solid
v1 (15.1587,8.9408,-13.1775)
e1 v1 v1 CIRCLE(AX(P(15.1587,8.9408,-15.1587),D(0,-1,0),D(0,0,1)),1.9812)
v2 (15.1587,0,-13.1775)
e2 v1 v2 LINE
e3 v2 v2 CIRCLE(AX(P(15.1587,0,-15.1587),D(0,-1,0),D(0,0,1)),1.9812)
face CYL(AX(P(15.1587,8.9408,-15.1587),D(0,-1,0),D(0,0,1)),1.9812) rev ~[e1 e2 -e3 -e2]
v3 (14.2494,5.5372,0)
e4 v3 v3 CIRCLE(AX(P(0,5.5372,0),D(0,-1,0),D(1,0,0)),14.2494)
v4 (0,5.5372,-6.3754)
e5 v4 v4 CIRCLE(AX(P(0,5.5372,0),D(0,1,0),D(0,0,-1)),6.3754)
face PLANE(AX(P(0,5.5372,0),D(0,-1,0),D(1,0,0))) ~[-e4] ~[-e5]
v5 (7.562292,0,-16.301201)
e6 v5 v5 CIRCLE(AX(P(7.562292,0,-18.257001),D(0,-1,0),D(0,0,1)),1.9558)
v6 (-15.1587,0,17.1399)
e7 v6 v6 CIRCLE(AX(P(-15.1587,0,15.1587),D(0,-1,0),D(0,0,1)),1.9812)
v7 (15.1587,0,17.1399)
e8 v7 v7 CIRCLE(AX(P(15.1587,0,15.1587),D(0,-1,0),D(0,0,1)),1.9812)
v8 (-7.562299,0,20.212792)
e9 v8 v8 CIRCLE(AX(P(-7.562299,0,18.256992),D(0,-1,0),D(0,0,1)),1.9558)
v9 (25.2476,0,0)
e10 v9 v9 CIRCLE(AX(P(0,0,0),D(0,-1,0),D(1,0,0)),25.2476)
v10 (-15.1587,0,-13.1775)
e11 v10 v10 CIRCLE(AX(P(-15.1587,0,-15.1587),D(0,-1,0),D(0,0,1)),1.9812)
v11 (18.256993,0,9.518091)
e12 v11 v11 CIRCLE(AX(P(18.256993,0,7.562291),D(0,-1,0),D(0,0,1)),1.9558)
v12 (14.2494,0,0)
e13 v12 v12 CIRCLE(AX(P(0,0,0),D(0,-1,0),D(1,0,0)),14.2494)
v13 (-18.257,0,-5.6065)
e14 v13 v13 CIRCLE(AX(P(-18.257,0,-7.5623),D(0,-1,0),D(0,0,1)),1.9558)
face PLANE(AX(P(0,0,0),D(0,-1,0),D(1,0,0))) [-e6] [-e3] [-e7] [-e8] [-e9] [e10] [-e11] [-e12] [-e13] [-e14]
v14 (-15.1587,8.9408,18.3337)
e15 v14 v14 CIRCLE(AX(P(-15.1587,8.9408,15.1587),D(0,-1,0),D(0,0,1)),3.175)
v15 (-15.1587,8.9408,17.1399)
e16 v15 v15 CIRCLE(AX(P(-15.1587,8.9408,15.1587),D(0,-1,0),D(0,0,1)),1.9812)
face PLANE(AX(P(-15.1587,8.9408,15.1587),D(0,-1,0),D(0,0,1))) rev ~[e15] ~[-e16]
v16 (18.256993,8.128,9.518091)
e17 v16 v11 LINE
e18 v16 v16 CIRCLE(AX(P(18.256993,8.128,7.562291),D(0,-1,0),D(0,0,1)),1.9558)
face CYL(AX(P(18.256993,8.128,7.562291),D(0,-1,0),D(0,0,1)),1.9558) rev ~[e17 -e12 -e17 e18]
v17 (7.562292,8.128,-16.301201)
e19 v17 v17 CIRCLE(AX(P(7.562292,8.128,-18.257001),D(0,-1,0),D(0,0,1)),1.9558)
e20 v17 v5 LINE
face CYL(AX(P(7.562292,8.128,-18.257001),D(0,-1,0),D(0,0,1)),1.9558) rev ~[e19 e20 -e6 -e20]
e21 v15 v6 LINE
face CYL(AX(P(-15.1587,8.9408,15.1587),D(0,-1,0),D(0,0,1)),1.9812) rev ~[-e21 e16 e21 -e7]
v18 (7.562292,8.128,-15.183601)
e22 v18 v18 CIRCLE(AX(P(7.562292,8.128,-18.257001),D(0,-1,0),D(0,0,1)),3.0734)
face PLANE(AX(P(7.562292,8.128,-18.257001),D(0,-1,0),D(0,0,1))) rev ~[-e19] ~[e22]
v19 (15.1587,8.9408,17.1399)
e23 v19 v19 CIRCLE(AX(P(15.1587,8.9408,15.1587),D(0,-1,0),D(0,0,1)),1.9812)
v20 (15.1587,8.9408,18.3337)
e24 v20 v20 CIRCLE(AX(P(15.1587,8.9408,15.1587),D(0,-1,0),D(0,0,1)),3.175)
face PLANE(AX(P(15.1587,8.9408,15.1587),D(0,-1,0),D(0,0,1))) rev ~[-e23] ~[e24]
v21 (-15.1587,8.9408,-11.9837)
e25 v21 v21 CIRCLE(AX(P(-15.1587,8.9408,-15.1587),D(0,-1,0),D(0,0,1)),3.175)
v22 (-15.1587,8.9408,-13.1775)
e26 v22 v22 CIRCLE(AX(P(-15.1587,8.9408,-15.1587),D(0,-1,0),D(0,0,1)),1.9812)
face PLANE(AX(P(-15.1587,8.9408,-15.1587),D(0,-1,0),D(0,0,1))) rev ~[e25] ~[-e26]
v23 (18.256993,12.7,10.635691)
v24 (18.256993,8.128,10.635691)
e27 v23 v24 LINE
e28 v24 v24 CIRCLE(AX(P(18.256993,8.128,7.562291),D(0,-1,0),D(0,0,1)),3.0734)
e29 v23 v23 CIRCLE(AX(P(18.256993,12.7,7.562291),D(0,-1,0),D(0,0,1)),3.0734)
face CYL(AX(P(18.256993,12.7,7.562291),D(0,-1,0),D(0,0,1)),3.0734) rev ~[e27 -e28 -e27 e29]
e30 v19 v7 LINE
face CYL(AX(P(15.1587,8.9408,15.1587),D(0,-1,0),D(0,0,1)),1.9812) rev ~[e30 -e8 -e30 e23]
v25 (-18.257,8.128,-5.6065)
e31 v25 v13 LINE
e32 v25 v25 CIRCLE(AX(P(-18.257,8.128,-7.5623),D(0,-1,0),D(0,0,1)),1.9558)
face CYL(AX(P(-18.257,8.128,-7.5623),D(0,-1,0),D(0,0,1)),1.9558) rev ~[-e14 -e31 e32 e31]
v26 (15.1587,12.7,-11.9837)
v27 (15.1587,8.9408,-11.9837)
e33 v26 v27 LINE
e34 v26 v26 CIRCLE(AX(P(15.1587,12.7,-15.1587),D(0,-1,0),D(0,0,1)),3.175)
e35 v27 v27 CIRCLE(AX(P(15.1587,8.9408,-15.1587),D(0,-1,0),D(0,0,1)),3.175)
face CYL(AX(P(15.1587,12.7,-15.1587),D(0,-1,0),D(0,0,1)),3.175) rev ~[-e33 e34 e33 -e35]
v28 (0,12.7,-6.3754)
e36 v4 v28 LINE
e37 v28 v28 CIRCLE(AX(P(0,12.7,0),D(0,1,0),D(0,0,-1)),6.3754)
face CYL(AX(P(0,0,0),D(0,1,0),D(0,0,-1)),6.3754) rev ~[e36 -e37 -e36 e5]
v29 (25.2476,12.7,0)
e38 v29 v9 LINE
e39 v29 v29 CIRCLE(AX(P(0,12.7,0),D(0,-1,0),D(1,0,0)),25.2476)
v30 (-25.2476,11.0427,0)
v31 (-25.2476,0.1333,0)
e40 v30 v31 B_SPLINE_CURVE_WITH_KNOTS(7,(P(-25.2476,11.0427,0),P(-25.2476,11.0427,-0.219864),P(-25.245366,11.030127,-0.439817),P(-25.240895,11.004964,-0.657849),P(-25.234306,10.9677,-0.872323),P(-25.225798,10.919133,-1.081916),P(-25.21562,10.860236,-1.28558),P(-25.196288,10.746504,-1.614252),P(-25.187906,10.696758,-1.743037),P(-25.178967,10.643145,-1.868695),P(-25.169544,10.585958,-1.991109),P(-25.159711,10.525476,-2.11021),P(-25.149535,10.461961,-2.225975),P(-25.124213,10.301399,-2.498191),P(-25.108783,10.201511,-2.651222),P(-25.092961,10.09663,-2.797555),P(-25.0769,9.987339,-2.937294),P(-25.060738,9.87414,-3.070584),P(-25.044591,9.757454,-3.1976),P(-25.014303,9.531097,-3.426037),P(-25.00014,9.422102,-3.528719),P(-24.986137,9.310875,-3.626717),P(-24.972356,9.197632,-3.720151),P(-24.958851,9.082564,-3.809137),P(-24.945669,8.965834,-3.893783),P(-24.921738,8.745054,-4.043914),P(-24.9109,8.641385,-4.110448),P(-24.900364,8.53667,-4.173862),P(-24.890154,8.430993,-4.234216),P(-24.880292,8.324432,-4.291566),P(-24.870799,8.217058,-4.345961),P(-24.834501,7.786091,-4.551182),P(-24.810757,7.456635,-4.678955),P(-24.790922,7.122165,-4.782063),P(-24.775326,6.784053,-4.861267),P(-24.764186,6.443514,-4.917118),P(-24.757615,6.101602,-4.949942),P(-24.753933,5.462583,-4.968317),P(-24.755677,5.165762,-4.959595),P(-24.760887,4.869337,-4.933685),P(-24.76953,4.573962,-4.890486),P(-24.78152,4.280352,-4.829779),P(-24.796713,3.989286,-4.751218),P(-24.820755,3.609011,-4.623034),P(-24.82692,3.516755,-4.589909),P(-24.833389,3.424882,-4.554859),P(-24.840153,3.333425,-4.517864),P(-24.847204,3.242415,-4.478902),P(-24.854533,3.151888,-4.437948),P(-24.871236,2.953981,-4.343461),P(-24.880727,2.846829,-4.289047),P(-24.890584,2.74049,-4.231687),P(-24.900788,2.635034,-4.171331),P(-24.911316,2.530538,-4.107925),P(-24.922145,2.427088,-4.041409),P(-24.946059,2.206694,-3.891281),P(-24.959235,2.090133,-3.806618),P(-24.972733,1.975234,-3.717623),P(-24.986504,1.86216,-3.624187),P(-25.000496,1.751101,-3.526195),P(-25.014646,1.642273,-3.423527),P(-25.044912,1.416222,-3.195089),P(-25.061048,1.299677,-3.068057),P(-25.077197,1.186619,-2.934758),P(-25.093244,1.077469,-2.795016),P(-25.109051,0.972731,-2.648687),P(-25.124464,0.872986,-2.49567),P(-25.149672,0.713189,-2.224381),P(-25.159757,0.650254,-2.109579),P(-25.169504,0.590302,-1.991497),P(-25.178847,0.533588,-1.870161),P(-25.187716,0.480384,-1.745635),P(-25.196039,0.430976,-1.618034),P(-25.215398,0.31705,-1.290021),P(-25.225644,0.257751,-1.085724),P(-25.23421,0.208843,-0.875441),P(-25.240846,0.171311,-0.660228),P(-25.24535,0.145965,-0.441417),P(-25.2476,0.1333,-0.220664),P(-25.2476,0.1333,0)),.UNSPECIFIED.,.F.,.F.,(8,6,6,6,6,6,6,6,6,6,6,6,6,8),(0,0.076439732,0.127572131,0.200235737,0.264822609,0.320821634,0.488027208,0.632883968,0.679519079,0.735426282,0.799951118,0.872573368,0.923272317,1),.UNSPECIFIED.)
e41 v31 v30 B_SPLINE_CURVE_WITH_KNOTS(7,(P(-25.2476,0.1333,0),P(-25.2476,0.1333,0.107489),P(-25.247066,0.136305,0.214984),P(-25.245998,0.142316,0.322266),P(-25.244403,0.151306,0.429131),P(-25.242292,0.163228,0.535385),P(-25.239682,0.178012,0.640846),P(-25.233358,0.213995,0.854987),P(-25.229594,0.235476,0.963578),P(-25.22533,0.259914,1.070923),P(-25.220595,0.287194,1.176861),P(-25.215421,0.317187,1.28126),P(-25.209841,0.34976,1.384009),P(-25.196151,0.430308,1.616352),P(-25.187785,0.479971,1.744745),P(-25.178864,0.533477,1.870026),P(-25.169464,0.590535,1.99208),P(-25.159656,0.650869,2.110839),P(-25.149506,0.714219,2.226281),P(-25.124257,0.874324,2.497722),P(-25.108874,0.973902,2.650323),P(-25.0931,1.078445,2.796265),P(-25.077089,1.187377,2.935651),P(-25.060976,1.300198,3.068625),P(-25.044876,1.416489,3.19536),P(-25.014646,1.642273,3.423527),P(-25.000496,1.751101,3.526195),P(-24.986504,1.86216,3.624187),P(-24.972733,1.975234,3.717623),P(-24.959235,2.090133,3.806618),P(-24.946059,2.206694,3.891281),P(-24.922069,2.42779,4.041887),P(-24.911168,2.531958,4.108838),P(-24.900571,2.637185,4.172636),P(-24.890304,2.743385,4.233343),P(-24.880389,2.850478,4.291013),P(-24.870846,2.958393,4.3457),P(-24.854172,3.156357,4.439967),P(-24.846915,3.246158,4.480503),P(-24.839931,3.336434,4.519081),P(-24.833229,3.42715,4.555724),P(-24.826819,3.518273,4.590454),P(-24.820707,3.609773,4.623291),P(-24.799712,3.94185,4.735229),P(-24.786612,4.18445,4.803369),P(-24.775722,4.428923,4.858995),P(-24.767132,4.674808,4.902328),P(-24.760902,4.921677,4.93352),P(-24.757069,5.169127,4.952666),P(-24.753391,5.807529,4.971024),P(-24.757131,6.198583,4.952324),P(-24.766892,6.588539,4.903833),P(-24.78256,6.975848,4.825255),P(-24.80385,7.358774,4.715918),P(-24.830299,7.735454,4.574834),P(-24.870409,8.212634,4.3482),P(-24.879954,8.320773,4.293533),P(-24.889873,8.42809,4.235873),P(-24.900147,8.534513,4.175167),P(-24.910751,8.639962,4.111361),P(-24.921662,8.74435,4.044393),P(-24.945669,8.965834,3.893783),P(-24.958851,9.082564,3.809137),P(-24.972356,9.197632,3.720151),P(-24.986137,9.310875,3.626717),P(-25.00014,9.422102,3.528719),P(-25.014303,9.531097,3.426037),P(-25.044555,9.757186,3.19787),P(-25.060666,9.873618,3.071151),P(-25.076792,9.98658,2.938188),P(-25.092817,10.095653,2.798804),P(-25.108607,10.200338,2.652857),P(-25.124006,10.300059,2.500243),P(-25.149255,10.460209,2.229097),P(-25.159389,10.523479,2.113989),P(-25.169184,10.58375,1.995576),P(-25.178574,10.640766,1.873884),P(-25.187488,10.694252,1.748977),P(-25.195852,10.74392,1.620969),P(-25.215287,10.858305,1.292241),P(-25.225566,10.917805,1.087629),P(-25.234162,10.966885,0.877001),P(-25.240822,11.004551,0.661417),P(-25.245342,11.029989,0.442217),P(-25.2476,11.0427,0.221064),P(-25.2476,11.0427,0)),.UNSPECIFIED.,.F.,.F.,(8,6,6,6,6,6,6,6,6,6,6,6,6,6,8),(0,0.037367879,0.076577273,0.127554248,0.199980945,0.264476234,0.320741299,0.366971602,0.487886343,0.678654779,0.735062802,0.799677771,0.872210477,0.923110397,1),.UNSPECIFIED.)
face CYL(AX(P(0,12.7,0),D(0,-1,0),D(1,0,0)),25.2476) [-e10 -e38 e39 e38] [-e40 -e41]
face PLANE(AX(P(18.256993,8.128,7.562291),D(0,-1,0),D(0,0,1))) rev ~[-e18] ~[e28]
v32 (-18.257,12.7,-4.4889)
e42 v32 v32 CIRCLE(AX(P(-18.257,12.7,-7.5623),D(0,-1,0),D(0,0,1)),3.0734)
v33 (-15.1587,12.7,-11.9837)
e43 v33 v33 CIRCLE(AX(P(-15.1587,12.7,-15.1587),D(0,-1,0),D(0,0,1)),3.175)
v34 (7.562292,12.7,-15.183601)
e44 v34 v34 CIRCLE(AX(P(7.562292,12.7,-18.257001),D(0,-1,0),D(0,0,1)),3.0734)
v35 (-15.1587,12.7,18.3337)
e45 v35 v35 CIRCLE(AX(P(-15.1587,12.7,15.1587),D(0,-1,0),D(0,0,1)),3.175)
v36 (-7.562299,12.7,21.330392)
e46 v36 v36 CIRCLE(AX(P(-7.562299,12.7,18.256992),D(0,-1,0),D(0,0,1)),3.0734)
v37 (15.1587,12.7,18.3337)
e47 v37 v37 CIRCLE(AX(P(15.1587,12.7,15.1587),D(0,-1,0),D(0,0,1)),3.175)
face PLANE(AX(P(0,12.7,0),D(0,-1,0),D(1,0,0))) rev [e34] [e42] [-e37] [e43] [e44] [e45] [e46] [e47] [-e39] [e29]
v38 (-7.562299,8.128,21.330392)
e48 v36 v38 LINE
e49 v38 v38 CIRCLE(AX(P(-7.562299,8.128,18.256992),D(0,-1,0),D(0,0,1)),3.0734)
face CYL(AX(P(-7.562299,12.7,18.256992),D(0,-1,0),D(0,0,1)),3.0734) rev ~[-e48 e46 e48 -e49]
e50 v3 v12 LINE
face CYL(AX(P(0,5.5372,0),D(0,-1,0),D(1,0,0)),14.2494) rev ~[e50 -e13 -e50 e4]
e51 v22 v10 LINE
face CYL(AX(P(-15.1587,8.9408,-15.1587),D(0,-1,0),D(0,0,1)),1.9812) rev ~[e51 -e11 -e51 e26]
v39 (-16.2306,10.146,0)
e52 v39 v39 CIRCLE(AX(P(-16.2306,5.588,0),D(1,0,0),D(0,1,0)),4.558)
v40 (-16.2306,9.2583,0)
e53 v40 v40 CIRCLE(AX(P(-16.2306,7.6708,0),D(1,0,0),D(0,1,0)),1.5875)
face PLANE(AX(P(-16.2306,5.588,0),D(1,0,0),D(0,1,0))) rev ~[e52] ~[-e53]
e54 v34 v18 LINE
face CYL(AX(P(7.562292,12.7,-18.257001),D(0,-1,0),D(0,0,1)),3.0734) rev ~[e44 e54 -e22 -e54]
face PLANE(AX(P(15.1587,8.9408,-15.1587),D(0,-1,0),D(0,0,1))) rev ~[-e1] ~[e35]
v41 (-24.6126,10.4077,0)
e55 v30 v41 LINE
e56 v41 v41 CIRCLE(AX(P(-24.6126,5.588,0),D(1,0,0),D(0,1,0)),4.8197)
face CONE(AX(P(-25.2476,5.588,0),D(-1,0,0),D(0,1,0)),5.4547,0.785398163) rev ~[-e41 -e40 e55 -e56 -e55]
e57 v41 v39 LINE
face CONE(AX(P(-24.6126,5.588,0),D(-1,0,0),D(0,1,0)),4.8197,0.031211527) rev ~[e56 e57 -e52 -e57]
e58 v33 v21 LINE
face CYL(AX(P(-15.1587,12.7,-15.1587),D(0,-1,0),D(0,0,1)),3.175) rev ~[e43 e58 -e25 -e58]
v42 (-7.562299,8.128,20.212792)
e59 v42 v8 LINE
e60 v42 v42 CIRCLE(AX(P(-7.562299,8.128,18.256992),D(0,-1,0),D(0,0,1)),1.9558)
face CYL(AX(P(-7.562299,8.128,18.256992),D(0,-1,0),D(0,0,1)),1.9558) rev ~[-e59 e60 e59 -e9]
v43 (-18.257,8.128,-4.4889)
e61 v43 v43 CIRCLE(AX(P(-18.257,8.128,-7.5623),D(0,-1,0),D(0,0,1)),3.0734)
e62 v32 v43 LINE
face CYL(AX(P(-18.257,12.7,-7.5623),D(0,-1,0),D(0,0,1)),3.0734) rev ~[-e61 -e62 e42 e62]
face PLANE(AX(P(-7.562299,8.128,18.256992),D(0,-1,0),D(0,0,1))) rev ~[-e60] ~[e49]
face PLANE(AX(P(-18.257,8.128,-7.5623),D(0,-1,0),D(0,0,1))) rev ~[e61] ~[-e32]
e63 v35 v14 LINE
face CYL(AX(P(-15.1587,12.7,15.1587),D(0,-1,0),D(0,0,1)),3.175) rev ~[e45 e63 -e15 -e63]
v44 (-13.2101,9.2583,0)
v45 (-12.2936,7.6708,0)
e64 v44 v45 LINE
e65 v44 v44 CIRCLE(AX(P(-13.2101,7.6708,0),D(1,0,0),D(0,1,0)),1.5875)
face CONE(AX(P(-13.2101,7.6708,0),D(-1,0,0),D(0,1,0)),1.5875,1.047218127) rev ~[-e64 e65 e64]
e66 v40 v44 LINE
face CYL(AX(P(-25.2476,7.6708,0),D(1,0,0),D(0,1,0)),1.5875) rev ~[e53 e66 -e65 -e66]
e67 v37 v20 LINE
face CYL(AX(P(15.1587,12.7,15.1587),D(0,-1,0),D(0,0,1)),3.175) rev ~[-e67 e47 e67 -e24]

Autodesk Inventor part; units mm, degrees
sketch "Sketch_1" plane through (0, 0, 0) normal (0, 0, 1) x (1, 0, 0)
  line L0 (0, 0) -> (0, 12.7)
  line L1 (0, 12.7) -> (25.2476, 12.7)
  line L2 (25.2476, 12.7) -> (25.2476, 0)
  line L3 (25.2476, 0) -> (0, 0)
  line L4 (0, 0) -> (0, 12.7)
revolve "Revolution1" add sketch "Sketch_1" angle 360 about axis through (0, 0, 0) along (0, -1, 0)
sketch "Sketch_84" plane through (0, 0, 0) normal (0, 0, 1) x (1, 0, 0)
  line L0 (-16.2306, 5.588) -> (-25.2476, 5.588)
  line L1 (-25.2476, 5.588) -> (-25.2476, 11.0427)
  line L2 (-25.2476, 11.0427) -> (-24.6126, 10.4077)
  line L3 (-24.6126, 10.4077) -> (-16.2306, 10.146)
  line L4 (-16.2306, 10.146) -> (-16.2306, 5.588)
  line L5 (-16.2306, 5.588) -> (-25.2476, 5.588)
revolve "Revolution2" cut sketch "Sketch_84" angle 360 about axis through (-16.2306, 5.588, 0) along (1, 0, 0)
thread "Thread1" size "1/8" designation "1/8 - 27 NPT" standard "NPT" full length
sketch "Sketch_85" plane through (0, 0, 0) normal (0, 0, 1) x (1, 0, 0)
  line L0 (-12.2936, 7.6708) -> (-25.2476, 7.6708)
  line L1 (-25.2476, 7.6708) -> (-25.2476, 9.2583)
  line L2 (-25.2476, 9.2583) -> (-13.2101, 9.2583)
  line L3 (-13.2101, 9.2583) -> (-12.2936, 7.6708)
  line L4 (-12.2936, 7.6708) -> (-25.2476, 7.6708)
revolve "Revolution3" cut sketch "Sketch_85" angle 360 about axis through (-12.2936, 7.6708, 0) along (1, 0, 0)
sketch "Sketch4" plane through (0, 12.7, 0) normal (0, 1, 0) x (1, 0, 0)
  point P0 (-15.1587, 15.1587)
hole "Hole1" at (-15.1587, 12.7, -15.1587) direction (0, -1, 0) diameter 3.9624 depth 12.7 counterbore diameter 6.35 counterbore depth 3.7592
sketch "Sketch5" plane through (0, 12.7, 0) normal (0, 1, 0) x (1, 0, 0)
  point P0 (-15.1587, -15.1587)
hole "Hole2" at (-15.1587, 12.7, 15.1587) direction (0, -1, 0) diameter 3.9624 depth 12.7 counterbore diameter 6.35 counterbore depth 3.7592
sketch "Sketch6" plane through (0, 12.7, 0) normal (0, 1, 0) x (1, 0, 0)
  point P0 (15.1587, -15.1587)
hole "Hole3" at (15.1587, 12.7, 15.1587) direction (0, -1, 0) diameter 3.9624 depth 12.7 counterbore diameter 6.35 counterbore depth 3.7592
sketch "Sketch7" plane through (0, 12.7, 0) normal (0, 1, 0) x (1, 0, 0)
  point P0 (15.1587, 15.1587)
hole "Hole4" at (15.1587, 12.7, -15.1587) direction (0, -1, 0) diameter 3.9624 depth 12.7 counterbore diameter 6.35 counterbore depth 3.7592
sketch "Sketch8" plane through (0, 0, 0) normal (0, -1, 0) x (1, 0, 0)
  point P0 (0, 0)
hole "Hole5" at (0, 0, 0) direction (0, 1, 0) diameter 12.7508 depth 12.7
sketch "Sketch_9" plane through (0, 0, 0) normal (0, 0, 1) x (1, 0, 0)
  line L0 (0, 0) -> (0, 5.5372)
  line L1 (0, 5.5372) -> (14.2494, 5.5372)
  line L2 (14.2494, 5.5372) -> (14.2494, 0)
  line L3 (14.2494, 0) -> (0, 0)
  line L4 (0, 0) -> (0, 5.5372)
revolve "Revolution4" cut sketch "Sketch_9" angle 360 about axis through (0, 0, 0) along (0, -1, 0)
sketch "Sketch10" plane through (0, 12.7, 0) normal (0, 1, 0) x (1, 0, 0)
  point P0 (-18.257, 7.5623)
hole "Hole6" at (-18.257, 12.7, -7.5623) direction (0, -1, 0) diameter 3.9116 depth 12.7 counterbore diameter 6.1468 counterbore depth 4.572
pattern_linear "Rectangular Pattern1" count 2 spacing 27.9466 along (0.9239, 0, -0.3827) count 2 spacing 27.9466 along (0.3827, 0, 0.9239) of "Hole6"
ref_plane "a1_XY" through (0, 12.7, -25.2476) normal (0, 1, 0) x (1, 0, 0)
ref_plane "a1_YZ" through (0, 12.7, -25.2476) normal (1, 0, 0) x (0, 0, -1)
ref_plane "a1_ZX" through (0, 12.7, -25.2476) normal (0, 0, -1) x (0, 1, 0)
ref_plane "a2_XY" through (0, 12.7, 25.2476) normal (0, 1, 0) x (1, 0, 0)
ref_plane "a2_YZ" through (0, 12.7, 25.2476) normal (1, 0, 0) x (0, 0, -1)
ref_plane "a2_ZX" through (0, 12.7, 25.2476) normal (0, 0, -1) x (0, 1, 0)
ref_plane "ab_tr1_XY" through (-12.9439, 0, -1.7041) normal (0, 1, 0) x (1, 0, 0)
ref_plane "ab_tr1_YZ" through (-12.9439, 0, -1.7041) normal (1, 0, 0) x (0, 0, -1)
ref_plane "ab_tr1_ZX" through (-12.9439, 0, -1.7041) normal (0, 0, -1) x (0, 1, 0)
ref_plane "ab_tr2_XY" through (12.9439, 0, 1.7041) normal (0, 1, 0) x (1, 0, 0)
ref_plane "ab_tr2_YZ" through (12.9439, 0, 1.7041) normal (1, 0, 0) x (0, 0, -1)
ref_plane "ab_tr2_ZX" through (12.9439, 0, 1.7041) normal (0, 0, -1) x (0, 1, 0)
ref_plane "ab_tr3_XY" through (-1.7041, 0, 12.9439) normal (0, 1, 0) x (1, 0, 0)
ref_plane "ab_tr3_YZ" through (-1.7041, 0, 12.9439) normal (1, 0, 0) x (0, 0, -1)
ref_plane "ab_tr3_ZX" through (-1.7041, 0, 12.9439) normal (0, 0, -1) x (0, 1, 0)
ref_plane "ab_tr4_XY" through (1.7041, 0, -12.9439) normal (0, 1, 0) x (1, 0, 0)
ref_plane "ab_tr4_YZ" through (1.7041, 0, -12.9439) normal (1, 0, 0) x (0, 0, -1)
ref_plane "ab_tr4_ZX" through (1.7041, 0, -12.9439) normal (0, 0, -1) x (0, 1, 0)
ref_plane "ar3_XY" through (-8.2135, 5.5372, 19.8292) normal (0, 1, 0) x (1, 0, 0)
ref_plane "ar3_YZ" through (-8.2135, 5.5372, 19.8292) normal (1, 0, 0) x (0, 0, -1)
ref_plane "ar3_ZX" through (-8.2135, 5.5372, 19.8292) normal (0, 0, -1) x (0, 1, 0)
ref_plane "ar4_XY" through (19.8292, 5.5372, 8.2135) normal (0, 1, 0) x (1, 0, 0)
ref_plane "ar4_YZ" through (19.8292, 5.5372, 8.2135) normal (1, 0, 0) x (0, 0, -1)
ref_plane "ar4_ZX" through (19.8292, 5.5372, 8.2135) normal (0, 0, -1) x (0, 1, 0)
ref_plane "ar5_XY" through (8.2135, 5.5372, -19.8292) normal (0, 1, 0) x (1, 0, 0)
ref_plane "ar5_YZ" through (8.2135, 5.5372, -19.8292) normal (1, 0, 0) x (0, 0, -1)
ref_plane "ar5_ZX" through (8.2135, 5.5372, -19.8292) normal (0, 0, -1) x (0, 1, 0)
ref_plane "ar6_XY" through (-19.8292, 5.5372, -8.2135) normal (0, 1, 0) x (1, 0, 0)
ref_plane "ar6_YZ" through (-19.8292, 5.5372, -8.2135) normal (1, 0, 0) x (0, 0, -1)
ref_plane "ar6_ZX" through (-19.8292, 5.5372, -8.2135) normal (0, 0, -1) x (0, 1, 0)
ref_plane "b1_XY" through (0, 12.7, 0) normal (0, 1, 0) x (1, 0, 0)
ref_plane "b1_YZ" through (0, 12.7, 0) normal (1, 0, 0) x (0, 0, -1)
ref_plane "b1_ZX" through (0, 12.7, 0) normal (0, 0, -1) x (0, 1, 0)
ref_plane "c11_XY" through (-15.1587, 12.7, -15.1587) normal (0, 1, 0) x (1, 0, 0)
ref_plane "c11_YZ" through (-15.1587, 12.7, -15.1587) normal (1, 0, 0) x (0, 0, -1)
ref_plane "c11_ZX" through (-15.1587, 12.7, -15.1587) normal (0, 0, -1) x (0, 1, 0)
ref_plane "c22_XY" through (15.1587, 12.7, 15.1587) normal (0, 1, 0) x (1, 0, 0)
ref_plane "c22_YZ" through (15.1587, 12.7, 15.1587) normal (1, 0, 0) x (0, 0, -1)
ref_plane "c22_ZX" through (15.1587, 12.7, 15.1587) normal (0, 0, -1) x (0, 1, 0)
ref_plane "d11_XY" through (-16.5596, 12.7, -13.7578) normal (0, 1, 0) x (1, 0, 0)
ref_plane "d11_YZ" through (-16.5596, 12.7, -13.7578) normal (1, 0, 0) x (0, 0, -1)
ref_plane "d11_ZX" through (-16.5596, 12.7, -13.7578) normal (0, 0, -1) x (0, 1, 0)
ref_plane "d22_XY" through (-13.7578, 12.7, -16.5596) normal (0, 1, 0) x (1, 0, 0)
ref_plane "d22_YZ" through (-13.7578, 12.7, -16.5596) normal (1, 0, 0) x (0, 0, -1)
ref_plane "d22_ZX" through (-13.7578, 12.7, -16.5596) normal (0, 0, -1) x (0, 1, 0)
ref_plane "j_XY" through (0, 0, 0) normal (0, 1, 0) x (1, 0, 0)
ref_plane "j_YZ" through (0, 0, 0) normal (1, 0, 0) x (0, 0, -1)
ref_plane "j_ZX" through (0, 0, 0) normal (0, 0, -1) x (0, 1, 0)
ref_plane "k1_XY" through (-25.2476, 5.588, 0) normal (0, 0, 1) x (1, 0, 0)
ref_plane "k1_YZ" through (-25.2476, 5.588, 0) normal (1, 0, 0) x (0, 1, 0)
ref_plane "k1_ZX" through (-25.2476, 5.588, 0) normal (0, 1, 0) x (0, 0, 1)
ref_plane "k2_XY" through (-25.2476, 12.7, 0) normal (0, 0, 1) x (1, 0, 0)
ref_plane "k2_YZ" through (-25.2476, 12.7, 0) normal (1, 0, 0) x (0, 1, 0)
ref_plane "k2_ZX" through (-25.2476, 12.7, 0) normal (0, 1, 0) x (0, 0, 1)
ref_plane "nut_XY" through (0, 26.9875, 0) normal (0, 1, 0) x (1, 0, 0)
ref_plane "nut_YZ" through (0, 26.9875, 0) normal (1, 0, 0) x (0, 0, -1)
ref_plane "nut_ZX" through (0, 26.9875, 0) normal (0, 0, -1) x (0, 1, 0)
ref_plane "po1_XY" through (18.257, 0, 7.5623) normal (0, 1, 0) x (1, 0, 0)
ref_plane "po1_YZ" through (18.257, 0, 7.5623) normal (1, 0, 0) x (0, 0, -1)
ref_plane "po1_ZX" through (18.257, 0, 7.5623) normal (0, 0, -1) x (0, 1, 0)
ref_plane "po2_XY" through (7.5623, 0, -18.257) normal (0, 1, 0) x (1, 0, 0)
ref_plane "po2_YZ" through (7.5623, 0, -18.257) normal (1, 0, 0) x (0, 0, -1)
ref_plane "po2_ZX" through (7.5623, 0, -18.257) normal (0, 0, -1) x (0, 1, 0)
ref_plane "po3_XY" through (-18.257, 0, -7.5623) normal (0, 1, 0) x (1, 0, 0)
ref_plane "po3_YZ" through (-18.257, 0, -7.5623) normal (1, 0, 0) x (0, 0, -1)
ref_plane "po3_ZX" through (-18.257, 0, -7.5623) normal (0, 0, -1) x (0, 1, 0)
ref_plane "po4_XY" through (-7.5623, 0, 18.257) normal (0, 1, 0) x (1, 0, 0)
ref_plane "po4_YZ" through (-7.5623, 0, 18.257) normal (1, 0, 0) x (0, 0, -1)
ref_plane "po4_ZX" through (-7.5623, 0, 18.257) normal (0, 0, -1) x (0, 1, 0)
ref_plane "r7_XY" through (2.413, 12.7, 21.4376) normal (0, 1, 0) x (1, 0, 0)
ref_plane "r7_YZ" through (2.413, 12.7, 21.4376) normal (1, 0, 0) x (0, 0, -1)
ref_plane "r7_ZX" through (2.413, 12.7, 21.4376) normal (0, 0, -1) x (0, 1, 0)
ref_plane "r71_XY" through (0, 12.7, 21.4376) normal (0, 1, 0) x (1, 0, 0)
ref_plane "r71_YZ" through (0, 12.7, 21.4376) normal (1, 0, 0) x (0, 0, -1)
ref_plane "r71_ZX" through (0, 12.7, 21.4376) normal (0, 0, -1) x (0, 1, 0)
ref_plane "r72_XY" through (-2.413, 12.7, 21.4376) normal (0, 1, 0) x (1, 0, 0)
ref_plane "r72_YZ" through (-2.413, 12.7, 21.4376) normal (1, 0, 0) x (0, 0, -1)
ref_plane "r72_ZX" through (-2.413, 12.7, 21.4376) normal (0, 0, -1) x (0, 1, 0)
ref_plane "r73_XY" through (0, 12.7, -21.4376) normal (0, 1, 0) x (1, 0, 0)
ref_plane "r73_YZ" through (0, 12.7, -21.4376) normal (1, 0, 0) x (0, 0, -1)
ref_plane "r73_ZX" through (0, 12.7, -21.4376) normal (0, 0, -1) x (0, 1, 0)
ref_plane "rg_XY" through (0, 12.7, 0) normal (0, 1, 0) x (1, 0, 0)
ref_plane "rg_YZ" through (0, 12.7, 0) normal (1, 0, 0) x (0, 0, -1)
ref_plane "rg_ZX" through (0, 12.7, 0) normal (0, 0, -1) x (0, 1, 0)
ref_plane "rh_XY" through (0, 12.7, 0) normal (0, 1, 0) x (1, 0, 0)
ref_plane "rh_YZ" through (0, 12.7, 0) normal (1, 0, 0) x (0, 0, -1)
ref_plane "rh_ZX" through (0, 12.7, 0) normal (0, 0, -1) x (0, 1, 0)
ref_plane "rs_1_XY" through (-15.1587, 15.2908, -15.1587) normal (0, 1, 0) x (1, 0, 0)
ref_plane "rs_1_YZ" through (-15.1587, 15.2908, -15.1587) normal (1, 0, 0) x (0, 0, -1)
ref_plane "rs_1_ZX" through (-15.1587, 15.2908, -15.1587) normal (0, 0, -1) x (0, 1, 0)
ref_plane "rs_2_XY" through (-15.1587, 15.2908, 15.1587) normal (0, 1, 0) x (1, 0, 0)
ref_plane "rs_2_YZ" through (-15.1587, 15.2908, 15.1587) normal (1, 0, 0) x (0, 0, -1)
ref_plane "rs_2_ZX" through (-15.1587, 15.2908, 15.1587) normal (0, 0, -1) x (0, 1, 0)
ref_plane "rs_3_XY" through (15.1587, 15.2908, 15.1587) normal (0, 1, 0) x (1, 0, 0)
ref_plane "rs_3_YZ" through (15.1587, 15.2908, 15.1587) normal (1, 0, 0) x (0, 0, -1)
ref_plane "rs_3_ZX" through (15.1587, 15.2908, 15.1587) normal (0, 0, -1) x (0, 1, 0)
ref_plane "rs_4_XY" through (15.1587, 15.2908, -15.1587) normal (0, 1, 0) x (1, 0, 0)
ref_plane "rs_4_YZ" through (15.1587, 15.2908, -15.1587) normal (1, 0, 0) x (0, 0, -1)
ref_plane "rs_4_ZX" through (15.1587, 15.2908, -15.1587) normal (0, 0, -1) x (0, 1, 0)
ref_plane "sc1_XY" through (7.5623, 8.128, -18.257) normal (0, 1, 0) x (1, 0, 0)
ref_plane "sc1_YZ" through (7.5623, 8.128, -18.257) normal (1, 0, 0) x (0, 0, -1)
ref_plane "sc1_ZX" through (7.5623, 8.128, -18.257) normal (0, 0, -1) x (0, 1, 0)
ref_plane "sc2_XY" through (-18.257, 8.128, -7.5623) normal (0, 1, 0) x (1, 0, 0)
ref_plane "sc2_YZ" through (-18.257, 8.128, -7.5623) normal (1, 0, 0) x (0, 0, -1)
ref_plane "sc2_ZX" through (-18.257, 8.128, -7.5623) normal (0, 0, -1) x (0, 1, 0)
ref_plane "sc3_XY" through (-7.5623, 8.128, 18.257) normal (0, 1, 0) x (1, 0, 0)
ref_plane "sc3_YZ" through (-7.5623, 8.128, 18.257) normal (1, 0, 0) x (0, 0, -1)
ref_plane "sc3_ZX" through (-7.5623, 8.128, 18.257) normal (0, 0, -1) x (0, 1, 0)
ref_plane "sc4_XY" through (18.257, 8.128, 7.5623) normal (0, 1, 0) x (1, 0, 0)
ref_plane "sc4_YZ" through (18.257, 8.128, 7.5623) normal (1, 0, 0) x (0, 0, -1)
ref_plane "sc4_ZX" through (18.257, 8.128, 7.5623) normal (0, 0, -1) x (0, 1, 0)
ref_plane "to_dummy_XY" through (0, 12.7, 0) normal (0, 1, 0) x (1, 0, 0)
ref_plane "to_dummy_YZ" through (0, 12.7, 0) normal (1, 0, 0) x (0, 0, -1)
ref_plane "to_dummy_ZX" through (0, 12.7, 0) normal (0, 0, -1) x (0, 1, 0)
ref_plane "to_nut_XY" through (0, 16.002, 0) normal (0, 1, 0) x (1, 0, 0)
ref_plane "to_nut_YZ" through (0, 16.002, 0) normal (1, 0, 0) x (0, 0, -1)
ref_plane "to_nut_ZX" through (0, 16.002, 0) normal (0, 0, -1) x (0, 1, 0)
ref_plane "to_rod_XY" through (0, 0, 0) normal (0, 1, 0) x (1, 0, 0)
ref_plane "to_rod_YZ" through (0, 0, 0) normal (1, 0, 0) x (0, 0, -1)
ref_plane "to_rod_ZX" through (0, 0, 0) normal (0, 0, -1) x (0, 1, 0)
ref_plane "to_tube_XY" through (0, 5.5372, 0) normal (0, 1, 0) x (1, 0, 0)
ref_plane "to_tube_YZ" through (0, 5.5372, 0) normal (1, 0, 0) x (0, 0, -1)
ref_plane "to_tube_ZX" through (0, 5.5372, 0) normal (0, 0, -1) x (0, 1, 0)
ref_plane "to_wiper_XY" through (0, 12.7, 0) normal (0, 1, 0) x (1, 0, 0)
ref_plane "to_wiper_YZ" through (0, 12.7, 0) normal (1, 0, 0) x (0, 0, -1)
ref_plane "to_wiper_ZX" through (0, 12.7, 0) normal (0, 0, -1) x (0, 1, 0)
ref_plane "track1_XY" through (-13.0556, 0, 0) normal (0, 1, 0) x (1, 0, 0)
ref_plane "track1_YZ" through (-13.0556, 0, 0) normal (1, 0, 0) x (0, 0, -1)
ref_plane "track1_ZX" through (-13.0556, 0, 0) normal (0, 0, -1) x (0, 1, 0)
ref_plane "track2_XY" through (0, 0, -13.0556) normal (0, 1, 0) x (1, 0, 0)
ref_plane "track2_YZ" through (0, 0, -13.0556) normal (1, 0, 0) x (0, 0, -1)
ref_plane "track2_ZX" through (0, 0, -13.0556) normal (0, 0, -1) x (0, 1, 0)
ref_plane "track3_XY" through (13.0556, 0, 0) normal (0, 1, 0) x (1, 0, 0)
ref_plane "track3_YZ" through (13.0556, 0, 0) normal (1, 0, 0) x (0, 0, -1)
ref_plane "track3_ZX" through (13.0556, 0, 0) normal (0, 0, -1) x (0, 1, 0)
ref_plane "track4_XY" through (0, 0, 13.0556) normal (0, 1, 0) x (1, 0, 0)
ref_plane "track4_YZ" through (0, 0, 13.0556) normal (1, 0, 0) x (0, 0, -1)
ref_plane "track4_ZX" through (0, 0, 13.0556) normal (0, 0, -1) x (0, 1, 0)
properties part number "09-1NT-0.125-FO1_BM_heads-bif"
